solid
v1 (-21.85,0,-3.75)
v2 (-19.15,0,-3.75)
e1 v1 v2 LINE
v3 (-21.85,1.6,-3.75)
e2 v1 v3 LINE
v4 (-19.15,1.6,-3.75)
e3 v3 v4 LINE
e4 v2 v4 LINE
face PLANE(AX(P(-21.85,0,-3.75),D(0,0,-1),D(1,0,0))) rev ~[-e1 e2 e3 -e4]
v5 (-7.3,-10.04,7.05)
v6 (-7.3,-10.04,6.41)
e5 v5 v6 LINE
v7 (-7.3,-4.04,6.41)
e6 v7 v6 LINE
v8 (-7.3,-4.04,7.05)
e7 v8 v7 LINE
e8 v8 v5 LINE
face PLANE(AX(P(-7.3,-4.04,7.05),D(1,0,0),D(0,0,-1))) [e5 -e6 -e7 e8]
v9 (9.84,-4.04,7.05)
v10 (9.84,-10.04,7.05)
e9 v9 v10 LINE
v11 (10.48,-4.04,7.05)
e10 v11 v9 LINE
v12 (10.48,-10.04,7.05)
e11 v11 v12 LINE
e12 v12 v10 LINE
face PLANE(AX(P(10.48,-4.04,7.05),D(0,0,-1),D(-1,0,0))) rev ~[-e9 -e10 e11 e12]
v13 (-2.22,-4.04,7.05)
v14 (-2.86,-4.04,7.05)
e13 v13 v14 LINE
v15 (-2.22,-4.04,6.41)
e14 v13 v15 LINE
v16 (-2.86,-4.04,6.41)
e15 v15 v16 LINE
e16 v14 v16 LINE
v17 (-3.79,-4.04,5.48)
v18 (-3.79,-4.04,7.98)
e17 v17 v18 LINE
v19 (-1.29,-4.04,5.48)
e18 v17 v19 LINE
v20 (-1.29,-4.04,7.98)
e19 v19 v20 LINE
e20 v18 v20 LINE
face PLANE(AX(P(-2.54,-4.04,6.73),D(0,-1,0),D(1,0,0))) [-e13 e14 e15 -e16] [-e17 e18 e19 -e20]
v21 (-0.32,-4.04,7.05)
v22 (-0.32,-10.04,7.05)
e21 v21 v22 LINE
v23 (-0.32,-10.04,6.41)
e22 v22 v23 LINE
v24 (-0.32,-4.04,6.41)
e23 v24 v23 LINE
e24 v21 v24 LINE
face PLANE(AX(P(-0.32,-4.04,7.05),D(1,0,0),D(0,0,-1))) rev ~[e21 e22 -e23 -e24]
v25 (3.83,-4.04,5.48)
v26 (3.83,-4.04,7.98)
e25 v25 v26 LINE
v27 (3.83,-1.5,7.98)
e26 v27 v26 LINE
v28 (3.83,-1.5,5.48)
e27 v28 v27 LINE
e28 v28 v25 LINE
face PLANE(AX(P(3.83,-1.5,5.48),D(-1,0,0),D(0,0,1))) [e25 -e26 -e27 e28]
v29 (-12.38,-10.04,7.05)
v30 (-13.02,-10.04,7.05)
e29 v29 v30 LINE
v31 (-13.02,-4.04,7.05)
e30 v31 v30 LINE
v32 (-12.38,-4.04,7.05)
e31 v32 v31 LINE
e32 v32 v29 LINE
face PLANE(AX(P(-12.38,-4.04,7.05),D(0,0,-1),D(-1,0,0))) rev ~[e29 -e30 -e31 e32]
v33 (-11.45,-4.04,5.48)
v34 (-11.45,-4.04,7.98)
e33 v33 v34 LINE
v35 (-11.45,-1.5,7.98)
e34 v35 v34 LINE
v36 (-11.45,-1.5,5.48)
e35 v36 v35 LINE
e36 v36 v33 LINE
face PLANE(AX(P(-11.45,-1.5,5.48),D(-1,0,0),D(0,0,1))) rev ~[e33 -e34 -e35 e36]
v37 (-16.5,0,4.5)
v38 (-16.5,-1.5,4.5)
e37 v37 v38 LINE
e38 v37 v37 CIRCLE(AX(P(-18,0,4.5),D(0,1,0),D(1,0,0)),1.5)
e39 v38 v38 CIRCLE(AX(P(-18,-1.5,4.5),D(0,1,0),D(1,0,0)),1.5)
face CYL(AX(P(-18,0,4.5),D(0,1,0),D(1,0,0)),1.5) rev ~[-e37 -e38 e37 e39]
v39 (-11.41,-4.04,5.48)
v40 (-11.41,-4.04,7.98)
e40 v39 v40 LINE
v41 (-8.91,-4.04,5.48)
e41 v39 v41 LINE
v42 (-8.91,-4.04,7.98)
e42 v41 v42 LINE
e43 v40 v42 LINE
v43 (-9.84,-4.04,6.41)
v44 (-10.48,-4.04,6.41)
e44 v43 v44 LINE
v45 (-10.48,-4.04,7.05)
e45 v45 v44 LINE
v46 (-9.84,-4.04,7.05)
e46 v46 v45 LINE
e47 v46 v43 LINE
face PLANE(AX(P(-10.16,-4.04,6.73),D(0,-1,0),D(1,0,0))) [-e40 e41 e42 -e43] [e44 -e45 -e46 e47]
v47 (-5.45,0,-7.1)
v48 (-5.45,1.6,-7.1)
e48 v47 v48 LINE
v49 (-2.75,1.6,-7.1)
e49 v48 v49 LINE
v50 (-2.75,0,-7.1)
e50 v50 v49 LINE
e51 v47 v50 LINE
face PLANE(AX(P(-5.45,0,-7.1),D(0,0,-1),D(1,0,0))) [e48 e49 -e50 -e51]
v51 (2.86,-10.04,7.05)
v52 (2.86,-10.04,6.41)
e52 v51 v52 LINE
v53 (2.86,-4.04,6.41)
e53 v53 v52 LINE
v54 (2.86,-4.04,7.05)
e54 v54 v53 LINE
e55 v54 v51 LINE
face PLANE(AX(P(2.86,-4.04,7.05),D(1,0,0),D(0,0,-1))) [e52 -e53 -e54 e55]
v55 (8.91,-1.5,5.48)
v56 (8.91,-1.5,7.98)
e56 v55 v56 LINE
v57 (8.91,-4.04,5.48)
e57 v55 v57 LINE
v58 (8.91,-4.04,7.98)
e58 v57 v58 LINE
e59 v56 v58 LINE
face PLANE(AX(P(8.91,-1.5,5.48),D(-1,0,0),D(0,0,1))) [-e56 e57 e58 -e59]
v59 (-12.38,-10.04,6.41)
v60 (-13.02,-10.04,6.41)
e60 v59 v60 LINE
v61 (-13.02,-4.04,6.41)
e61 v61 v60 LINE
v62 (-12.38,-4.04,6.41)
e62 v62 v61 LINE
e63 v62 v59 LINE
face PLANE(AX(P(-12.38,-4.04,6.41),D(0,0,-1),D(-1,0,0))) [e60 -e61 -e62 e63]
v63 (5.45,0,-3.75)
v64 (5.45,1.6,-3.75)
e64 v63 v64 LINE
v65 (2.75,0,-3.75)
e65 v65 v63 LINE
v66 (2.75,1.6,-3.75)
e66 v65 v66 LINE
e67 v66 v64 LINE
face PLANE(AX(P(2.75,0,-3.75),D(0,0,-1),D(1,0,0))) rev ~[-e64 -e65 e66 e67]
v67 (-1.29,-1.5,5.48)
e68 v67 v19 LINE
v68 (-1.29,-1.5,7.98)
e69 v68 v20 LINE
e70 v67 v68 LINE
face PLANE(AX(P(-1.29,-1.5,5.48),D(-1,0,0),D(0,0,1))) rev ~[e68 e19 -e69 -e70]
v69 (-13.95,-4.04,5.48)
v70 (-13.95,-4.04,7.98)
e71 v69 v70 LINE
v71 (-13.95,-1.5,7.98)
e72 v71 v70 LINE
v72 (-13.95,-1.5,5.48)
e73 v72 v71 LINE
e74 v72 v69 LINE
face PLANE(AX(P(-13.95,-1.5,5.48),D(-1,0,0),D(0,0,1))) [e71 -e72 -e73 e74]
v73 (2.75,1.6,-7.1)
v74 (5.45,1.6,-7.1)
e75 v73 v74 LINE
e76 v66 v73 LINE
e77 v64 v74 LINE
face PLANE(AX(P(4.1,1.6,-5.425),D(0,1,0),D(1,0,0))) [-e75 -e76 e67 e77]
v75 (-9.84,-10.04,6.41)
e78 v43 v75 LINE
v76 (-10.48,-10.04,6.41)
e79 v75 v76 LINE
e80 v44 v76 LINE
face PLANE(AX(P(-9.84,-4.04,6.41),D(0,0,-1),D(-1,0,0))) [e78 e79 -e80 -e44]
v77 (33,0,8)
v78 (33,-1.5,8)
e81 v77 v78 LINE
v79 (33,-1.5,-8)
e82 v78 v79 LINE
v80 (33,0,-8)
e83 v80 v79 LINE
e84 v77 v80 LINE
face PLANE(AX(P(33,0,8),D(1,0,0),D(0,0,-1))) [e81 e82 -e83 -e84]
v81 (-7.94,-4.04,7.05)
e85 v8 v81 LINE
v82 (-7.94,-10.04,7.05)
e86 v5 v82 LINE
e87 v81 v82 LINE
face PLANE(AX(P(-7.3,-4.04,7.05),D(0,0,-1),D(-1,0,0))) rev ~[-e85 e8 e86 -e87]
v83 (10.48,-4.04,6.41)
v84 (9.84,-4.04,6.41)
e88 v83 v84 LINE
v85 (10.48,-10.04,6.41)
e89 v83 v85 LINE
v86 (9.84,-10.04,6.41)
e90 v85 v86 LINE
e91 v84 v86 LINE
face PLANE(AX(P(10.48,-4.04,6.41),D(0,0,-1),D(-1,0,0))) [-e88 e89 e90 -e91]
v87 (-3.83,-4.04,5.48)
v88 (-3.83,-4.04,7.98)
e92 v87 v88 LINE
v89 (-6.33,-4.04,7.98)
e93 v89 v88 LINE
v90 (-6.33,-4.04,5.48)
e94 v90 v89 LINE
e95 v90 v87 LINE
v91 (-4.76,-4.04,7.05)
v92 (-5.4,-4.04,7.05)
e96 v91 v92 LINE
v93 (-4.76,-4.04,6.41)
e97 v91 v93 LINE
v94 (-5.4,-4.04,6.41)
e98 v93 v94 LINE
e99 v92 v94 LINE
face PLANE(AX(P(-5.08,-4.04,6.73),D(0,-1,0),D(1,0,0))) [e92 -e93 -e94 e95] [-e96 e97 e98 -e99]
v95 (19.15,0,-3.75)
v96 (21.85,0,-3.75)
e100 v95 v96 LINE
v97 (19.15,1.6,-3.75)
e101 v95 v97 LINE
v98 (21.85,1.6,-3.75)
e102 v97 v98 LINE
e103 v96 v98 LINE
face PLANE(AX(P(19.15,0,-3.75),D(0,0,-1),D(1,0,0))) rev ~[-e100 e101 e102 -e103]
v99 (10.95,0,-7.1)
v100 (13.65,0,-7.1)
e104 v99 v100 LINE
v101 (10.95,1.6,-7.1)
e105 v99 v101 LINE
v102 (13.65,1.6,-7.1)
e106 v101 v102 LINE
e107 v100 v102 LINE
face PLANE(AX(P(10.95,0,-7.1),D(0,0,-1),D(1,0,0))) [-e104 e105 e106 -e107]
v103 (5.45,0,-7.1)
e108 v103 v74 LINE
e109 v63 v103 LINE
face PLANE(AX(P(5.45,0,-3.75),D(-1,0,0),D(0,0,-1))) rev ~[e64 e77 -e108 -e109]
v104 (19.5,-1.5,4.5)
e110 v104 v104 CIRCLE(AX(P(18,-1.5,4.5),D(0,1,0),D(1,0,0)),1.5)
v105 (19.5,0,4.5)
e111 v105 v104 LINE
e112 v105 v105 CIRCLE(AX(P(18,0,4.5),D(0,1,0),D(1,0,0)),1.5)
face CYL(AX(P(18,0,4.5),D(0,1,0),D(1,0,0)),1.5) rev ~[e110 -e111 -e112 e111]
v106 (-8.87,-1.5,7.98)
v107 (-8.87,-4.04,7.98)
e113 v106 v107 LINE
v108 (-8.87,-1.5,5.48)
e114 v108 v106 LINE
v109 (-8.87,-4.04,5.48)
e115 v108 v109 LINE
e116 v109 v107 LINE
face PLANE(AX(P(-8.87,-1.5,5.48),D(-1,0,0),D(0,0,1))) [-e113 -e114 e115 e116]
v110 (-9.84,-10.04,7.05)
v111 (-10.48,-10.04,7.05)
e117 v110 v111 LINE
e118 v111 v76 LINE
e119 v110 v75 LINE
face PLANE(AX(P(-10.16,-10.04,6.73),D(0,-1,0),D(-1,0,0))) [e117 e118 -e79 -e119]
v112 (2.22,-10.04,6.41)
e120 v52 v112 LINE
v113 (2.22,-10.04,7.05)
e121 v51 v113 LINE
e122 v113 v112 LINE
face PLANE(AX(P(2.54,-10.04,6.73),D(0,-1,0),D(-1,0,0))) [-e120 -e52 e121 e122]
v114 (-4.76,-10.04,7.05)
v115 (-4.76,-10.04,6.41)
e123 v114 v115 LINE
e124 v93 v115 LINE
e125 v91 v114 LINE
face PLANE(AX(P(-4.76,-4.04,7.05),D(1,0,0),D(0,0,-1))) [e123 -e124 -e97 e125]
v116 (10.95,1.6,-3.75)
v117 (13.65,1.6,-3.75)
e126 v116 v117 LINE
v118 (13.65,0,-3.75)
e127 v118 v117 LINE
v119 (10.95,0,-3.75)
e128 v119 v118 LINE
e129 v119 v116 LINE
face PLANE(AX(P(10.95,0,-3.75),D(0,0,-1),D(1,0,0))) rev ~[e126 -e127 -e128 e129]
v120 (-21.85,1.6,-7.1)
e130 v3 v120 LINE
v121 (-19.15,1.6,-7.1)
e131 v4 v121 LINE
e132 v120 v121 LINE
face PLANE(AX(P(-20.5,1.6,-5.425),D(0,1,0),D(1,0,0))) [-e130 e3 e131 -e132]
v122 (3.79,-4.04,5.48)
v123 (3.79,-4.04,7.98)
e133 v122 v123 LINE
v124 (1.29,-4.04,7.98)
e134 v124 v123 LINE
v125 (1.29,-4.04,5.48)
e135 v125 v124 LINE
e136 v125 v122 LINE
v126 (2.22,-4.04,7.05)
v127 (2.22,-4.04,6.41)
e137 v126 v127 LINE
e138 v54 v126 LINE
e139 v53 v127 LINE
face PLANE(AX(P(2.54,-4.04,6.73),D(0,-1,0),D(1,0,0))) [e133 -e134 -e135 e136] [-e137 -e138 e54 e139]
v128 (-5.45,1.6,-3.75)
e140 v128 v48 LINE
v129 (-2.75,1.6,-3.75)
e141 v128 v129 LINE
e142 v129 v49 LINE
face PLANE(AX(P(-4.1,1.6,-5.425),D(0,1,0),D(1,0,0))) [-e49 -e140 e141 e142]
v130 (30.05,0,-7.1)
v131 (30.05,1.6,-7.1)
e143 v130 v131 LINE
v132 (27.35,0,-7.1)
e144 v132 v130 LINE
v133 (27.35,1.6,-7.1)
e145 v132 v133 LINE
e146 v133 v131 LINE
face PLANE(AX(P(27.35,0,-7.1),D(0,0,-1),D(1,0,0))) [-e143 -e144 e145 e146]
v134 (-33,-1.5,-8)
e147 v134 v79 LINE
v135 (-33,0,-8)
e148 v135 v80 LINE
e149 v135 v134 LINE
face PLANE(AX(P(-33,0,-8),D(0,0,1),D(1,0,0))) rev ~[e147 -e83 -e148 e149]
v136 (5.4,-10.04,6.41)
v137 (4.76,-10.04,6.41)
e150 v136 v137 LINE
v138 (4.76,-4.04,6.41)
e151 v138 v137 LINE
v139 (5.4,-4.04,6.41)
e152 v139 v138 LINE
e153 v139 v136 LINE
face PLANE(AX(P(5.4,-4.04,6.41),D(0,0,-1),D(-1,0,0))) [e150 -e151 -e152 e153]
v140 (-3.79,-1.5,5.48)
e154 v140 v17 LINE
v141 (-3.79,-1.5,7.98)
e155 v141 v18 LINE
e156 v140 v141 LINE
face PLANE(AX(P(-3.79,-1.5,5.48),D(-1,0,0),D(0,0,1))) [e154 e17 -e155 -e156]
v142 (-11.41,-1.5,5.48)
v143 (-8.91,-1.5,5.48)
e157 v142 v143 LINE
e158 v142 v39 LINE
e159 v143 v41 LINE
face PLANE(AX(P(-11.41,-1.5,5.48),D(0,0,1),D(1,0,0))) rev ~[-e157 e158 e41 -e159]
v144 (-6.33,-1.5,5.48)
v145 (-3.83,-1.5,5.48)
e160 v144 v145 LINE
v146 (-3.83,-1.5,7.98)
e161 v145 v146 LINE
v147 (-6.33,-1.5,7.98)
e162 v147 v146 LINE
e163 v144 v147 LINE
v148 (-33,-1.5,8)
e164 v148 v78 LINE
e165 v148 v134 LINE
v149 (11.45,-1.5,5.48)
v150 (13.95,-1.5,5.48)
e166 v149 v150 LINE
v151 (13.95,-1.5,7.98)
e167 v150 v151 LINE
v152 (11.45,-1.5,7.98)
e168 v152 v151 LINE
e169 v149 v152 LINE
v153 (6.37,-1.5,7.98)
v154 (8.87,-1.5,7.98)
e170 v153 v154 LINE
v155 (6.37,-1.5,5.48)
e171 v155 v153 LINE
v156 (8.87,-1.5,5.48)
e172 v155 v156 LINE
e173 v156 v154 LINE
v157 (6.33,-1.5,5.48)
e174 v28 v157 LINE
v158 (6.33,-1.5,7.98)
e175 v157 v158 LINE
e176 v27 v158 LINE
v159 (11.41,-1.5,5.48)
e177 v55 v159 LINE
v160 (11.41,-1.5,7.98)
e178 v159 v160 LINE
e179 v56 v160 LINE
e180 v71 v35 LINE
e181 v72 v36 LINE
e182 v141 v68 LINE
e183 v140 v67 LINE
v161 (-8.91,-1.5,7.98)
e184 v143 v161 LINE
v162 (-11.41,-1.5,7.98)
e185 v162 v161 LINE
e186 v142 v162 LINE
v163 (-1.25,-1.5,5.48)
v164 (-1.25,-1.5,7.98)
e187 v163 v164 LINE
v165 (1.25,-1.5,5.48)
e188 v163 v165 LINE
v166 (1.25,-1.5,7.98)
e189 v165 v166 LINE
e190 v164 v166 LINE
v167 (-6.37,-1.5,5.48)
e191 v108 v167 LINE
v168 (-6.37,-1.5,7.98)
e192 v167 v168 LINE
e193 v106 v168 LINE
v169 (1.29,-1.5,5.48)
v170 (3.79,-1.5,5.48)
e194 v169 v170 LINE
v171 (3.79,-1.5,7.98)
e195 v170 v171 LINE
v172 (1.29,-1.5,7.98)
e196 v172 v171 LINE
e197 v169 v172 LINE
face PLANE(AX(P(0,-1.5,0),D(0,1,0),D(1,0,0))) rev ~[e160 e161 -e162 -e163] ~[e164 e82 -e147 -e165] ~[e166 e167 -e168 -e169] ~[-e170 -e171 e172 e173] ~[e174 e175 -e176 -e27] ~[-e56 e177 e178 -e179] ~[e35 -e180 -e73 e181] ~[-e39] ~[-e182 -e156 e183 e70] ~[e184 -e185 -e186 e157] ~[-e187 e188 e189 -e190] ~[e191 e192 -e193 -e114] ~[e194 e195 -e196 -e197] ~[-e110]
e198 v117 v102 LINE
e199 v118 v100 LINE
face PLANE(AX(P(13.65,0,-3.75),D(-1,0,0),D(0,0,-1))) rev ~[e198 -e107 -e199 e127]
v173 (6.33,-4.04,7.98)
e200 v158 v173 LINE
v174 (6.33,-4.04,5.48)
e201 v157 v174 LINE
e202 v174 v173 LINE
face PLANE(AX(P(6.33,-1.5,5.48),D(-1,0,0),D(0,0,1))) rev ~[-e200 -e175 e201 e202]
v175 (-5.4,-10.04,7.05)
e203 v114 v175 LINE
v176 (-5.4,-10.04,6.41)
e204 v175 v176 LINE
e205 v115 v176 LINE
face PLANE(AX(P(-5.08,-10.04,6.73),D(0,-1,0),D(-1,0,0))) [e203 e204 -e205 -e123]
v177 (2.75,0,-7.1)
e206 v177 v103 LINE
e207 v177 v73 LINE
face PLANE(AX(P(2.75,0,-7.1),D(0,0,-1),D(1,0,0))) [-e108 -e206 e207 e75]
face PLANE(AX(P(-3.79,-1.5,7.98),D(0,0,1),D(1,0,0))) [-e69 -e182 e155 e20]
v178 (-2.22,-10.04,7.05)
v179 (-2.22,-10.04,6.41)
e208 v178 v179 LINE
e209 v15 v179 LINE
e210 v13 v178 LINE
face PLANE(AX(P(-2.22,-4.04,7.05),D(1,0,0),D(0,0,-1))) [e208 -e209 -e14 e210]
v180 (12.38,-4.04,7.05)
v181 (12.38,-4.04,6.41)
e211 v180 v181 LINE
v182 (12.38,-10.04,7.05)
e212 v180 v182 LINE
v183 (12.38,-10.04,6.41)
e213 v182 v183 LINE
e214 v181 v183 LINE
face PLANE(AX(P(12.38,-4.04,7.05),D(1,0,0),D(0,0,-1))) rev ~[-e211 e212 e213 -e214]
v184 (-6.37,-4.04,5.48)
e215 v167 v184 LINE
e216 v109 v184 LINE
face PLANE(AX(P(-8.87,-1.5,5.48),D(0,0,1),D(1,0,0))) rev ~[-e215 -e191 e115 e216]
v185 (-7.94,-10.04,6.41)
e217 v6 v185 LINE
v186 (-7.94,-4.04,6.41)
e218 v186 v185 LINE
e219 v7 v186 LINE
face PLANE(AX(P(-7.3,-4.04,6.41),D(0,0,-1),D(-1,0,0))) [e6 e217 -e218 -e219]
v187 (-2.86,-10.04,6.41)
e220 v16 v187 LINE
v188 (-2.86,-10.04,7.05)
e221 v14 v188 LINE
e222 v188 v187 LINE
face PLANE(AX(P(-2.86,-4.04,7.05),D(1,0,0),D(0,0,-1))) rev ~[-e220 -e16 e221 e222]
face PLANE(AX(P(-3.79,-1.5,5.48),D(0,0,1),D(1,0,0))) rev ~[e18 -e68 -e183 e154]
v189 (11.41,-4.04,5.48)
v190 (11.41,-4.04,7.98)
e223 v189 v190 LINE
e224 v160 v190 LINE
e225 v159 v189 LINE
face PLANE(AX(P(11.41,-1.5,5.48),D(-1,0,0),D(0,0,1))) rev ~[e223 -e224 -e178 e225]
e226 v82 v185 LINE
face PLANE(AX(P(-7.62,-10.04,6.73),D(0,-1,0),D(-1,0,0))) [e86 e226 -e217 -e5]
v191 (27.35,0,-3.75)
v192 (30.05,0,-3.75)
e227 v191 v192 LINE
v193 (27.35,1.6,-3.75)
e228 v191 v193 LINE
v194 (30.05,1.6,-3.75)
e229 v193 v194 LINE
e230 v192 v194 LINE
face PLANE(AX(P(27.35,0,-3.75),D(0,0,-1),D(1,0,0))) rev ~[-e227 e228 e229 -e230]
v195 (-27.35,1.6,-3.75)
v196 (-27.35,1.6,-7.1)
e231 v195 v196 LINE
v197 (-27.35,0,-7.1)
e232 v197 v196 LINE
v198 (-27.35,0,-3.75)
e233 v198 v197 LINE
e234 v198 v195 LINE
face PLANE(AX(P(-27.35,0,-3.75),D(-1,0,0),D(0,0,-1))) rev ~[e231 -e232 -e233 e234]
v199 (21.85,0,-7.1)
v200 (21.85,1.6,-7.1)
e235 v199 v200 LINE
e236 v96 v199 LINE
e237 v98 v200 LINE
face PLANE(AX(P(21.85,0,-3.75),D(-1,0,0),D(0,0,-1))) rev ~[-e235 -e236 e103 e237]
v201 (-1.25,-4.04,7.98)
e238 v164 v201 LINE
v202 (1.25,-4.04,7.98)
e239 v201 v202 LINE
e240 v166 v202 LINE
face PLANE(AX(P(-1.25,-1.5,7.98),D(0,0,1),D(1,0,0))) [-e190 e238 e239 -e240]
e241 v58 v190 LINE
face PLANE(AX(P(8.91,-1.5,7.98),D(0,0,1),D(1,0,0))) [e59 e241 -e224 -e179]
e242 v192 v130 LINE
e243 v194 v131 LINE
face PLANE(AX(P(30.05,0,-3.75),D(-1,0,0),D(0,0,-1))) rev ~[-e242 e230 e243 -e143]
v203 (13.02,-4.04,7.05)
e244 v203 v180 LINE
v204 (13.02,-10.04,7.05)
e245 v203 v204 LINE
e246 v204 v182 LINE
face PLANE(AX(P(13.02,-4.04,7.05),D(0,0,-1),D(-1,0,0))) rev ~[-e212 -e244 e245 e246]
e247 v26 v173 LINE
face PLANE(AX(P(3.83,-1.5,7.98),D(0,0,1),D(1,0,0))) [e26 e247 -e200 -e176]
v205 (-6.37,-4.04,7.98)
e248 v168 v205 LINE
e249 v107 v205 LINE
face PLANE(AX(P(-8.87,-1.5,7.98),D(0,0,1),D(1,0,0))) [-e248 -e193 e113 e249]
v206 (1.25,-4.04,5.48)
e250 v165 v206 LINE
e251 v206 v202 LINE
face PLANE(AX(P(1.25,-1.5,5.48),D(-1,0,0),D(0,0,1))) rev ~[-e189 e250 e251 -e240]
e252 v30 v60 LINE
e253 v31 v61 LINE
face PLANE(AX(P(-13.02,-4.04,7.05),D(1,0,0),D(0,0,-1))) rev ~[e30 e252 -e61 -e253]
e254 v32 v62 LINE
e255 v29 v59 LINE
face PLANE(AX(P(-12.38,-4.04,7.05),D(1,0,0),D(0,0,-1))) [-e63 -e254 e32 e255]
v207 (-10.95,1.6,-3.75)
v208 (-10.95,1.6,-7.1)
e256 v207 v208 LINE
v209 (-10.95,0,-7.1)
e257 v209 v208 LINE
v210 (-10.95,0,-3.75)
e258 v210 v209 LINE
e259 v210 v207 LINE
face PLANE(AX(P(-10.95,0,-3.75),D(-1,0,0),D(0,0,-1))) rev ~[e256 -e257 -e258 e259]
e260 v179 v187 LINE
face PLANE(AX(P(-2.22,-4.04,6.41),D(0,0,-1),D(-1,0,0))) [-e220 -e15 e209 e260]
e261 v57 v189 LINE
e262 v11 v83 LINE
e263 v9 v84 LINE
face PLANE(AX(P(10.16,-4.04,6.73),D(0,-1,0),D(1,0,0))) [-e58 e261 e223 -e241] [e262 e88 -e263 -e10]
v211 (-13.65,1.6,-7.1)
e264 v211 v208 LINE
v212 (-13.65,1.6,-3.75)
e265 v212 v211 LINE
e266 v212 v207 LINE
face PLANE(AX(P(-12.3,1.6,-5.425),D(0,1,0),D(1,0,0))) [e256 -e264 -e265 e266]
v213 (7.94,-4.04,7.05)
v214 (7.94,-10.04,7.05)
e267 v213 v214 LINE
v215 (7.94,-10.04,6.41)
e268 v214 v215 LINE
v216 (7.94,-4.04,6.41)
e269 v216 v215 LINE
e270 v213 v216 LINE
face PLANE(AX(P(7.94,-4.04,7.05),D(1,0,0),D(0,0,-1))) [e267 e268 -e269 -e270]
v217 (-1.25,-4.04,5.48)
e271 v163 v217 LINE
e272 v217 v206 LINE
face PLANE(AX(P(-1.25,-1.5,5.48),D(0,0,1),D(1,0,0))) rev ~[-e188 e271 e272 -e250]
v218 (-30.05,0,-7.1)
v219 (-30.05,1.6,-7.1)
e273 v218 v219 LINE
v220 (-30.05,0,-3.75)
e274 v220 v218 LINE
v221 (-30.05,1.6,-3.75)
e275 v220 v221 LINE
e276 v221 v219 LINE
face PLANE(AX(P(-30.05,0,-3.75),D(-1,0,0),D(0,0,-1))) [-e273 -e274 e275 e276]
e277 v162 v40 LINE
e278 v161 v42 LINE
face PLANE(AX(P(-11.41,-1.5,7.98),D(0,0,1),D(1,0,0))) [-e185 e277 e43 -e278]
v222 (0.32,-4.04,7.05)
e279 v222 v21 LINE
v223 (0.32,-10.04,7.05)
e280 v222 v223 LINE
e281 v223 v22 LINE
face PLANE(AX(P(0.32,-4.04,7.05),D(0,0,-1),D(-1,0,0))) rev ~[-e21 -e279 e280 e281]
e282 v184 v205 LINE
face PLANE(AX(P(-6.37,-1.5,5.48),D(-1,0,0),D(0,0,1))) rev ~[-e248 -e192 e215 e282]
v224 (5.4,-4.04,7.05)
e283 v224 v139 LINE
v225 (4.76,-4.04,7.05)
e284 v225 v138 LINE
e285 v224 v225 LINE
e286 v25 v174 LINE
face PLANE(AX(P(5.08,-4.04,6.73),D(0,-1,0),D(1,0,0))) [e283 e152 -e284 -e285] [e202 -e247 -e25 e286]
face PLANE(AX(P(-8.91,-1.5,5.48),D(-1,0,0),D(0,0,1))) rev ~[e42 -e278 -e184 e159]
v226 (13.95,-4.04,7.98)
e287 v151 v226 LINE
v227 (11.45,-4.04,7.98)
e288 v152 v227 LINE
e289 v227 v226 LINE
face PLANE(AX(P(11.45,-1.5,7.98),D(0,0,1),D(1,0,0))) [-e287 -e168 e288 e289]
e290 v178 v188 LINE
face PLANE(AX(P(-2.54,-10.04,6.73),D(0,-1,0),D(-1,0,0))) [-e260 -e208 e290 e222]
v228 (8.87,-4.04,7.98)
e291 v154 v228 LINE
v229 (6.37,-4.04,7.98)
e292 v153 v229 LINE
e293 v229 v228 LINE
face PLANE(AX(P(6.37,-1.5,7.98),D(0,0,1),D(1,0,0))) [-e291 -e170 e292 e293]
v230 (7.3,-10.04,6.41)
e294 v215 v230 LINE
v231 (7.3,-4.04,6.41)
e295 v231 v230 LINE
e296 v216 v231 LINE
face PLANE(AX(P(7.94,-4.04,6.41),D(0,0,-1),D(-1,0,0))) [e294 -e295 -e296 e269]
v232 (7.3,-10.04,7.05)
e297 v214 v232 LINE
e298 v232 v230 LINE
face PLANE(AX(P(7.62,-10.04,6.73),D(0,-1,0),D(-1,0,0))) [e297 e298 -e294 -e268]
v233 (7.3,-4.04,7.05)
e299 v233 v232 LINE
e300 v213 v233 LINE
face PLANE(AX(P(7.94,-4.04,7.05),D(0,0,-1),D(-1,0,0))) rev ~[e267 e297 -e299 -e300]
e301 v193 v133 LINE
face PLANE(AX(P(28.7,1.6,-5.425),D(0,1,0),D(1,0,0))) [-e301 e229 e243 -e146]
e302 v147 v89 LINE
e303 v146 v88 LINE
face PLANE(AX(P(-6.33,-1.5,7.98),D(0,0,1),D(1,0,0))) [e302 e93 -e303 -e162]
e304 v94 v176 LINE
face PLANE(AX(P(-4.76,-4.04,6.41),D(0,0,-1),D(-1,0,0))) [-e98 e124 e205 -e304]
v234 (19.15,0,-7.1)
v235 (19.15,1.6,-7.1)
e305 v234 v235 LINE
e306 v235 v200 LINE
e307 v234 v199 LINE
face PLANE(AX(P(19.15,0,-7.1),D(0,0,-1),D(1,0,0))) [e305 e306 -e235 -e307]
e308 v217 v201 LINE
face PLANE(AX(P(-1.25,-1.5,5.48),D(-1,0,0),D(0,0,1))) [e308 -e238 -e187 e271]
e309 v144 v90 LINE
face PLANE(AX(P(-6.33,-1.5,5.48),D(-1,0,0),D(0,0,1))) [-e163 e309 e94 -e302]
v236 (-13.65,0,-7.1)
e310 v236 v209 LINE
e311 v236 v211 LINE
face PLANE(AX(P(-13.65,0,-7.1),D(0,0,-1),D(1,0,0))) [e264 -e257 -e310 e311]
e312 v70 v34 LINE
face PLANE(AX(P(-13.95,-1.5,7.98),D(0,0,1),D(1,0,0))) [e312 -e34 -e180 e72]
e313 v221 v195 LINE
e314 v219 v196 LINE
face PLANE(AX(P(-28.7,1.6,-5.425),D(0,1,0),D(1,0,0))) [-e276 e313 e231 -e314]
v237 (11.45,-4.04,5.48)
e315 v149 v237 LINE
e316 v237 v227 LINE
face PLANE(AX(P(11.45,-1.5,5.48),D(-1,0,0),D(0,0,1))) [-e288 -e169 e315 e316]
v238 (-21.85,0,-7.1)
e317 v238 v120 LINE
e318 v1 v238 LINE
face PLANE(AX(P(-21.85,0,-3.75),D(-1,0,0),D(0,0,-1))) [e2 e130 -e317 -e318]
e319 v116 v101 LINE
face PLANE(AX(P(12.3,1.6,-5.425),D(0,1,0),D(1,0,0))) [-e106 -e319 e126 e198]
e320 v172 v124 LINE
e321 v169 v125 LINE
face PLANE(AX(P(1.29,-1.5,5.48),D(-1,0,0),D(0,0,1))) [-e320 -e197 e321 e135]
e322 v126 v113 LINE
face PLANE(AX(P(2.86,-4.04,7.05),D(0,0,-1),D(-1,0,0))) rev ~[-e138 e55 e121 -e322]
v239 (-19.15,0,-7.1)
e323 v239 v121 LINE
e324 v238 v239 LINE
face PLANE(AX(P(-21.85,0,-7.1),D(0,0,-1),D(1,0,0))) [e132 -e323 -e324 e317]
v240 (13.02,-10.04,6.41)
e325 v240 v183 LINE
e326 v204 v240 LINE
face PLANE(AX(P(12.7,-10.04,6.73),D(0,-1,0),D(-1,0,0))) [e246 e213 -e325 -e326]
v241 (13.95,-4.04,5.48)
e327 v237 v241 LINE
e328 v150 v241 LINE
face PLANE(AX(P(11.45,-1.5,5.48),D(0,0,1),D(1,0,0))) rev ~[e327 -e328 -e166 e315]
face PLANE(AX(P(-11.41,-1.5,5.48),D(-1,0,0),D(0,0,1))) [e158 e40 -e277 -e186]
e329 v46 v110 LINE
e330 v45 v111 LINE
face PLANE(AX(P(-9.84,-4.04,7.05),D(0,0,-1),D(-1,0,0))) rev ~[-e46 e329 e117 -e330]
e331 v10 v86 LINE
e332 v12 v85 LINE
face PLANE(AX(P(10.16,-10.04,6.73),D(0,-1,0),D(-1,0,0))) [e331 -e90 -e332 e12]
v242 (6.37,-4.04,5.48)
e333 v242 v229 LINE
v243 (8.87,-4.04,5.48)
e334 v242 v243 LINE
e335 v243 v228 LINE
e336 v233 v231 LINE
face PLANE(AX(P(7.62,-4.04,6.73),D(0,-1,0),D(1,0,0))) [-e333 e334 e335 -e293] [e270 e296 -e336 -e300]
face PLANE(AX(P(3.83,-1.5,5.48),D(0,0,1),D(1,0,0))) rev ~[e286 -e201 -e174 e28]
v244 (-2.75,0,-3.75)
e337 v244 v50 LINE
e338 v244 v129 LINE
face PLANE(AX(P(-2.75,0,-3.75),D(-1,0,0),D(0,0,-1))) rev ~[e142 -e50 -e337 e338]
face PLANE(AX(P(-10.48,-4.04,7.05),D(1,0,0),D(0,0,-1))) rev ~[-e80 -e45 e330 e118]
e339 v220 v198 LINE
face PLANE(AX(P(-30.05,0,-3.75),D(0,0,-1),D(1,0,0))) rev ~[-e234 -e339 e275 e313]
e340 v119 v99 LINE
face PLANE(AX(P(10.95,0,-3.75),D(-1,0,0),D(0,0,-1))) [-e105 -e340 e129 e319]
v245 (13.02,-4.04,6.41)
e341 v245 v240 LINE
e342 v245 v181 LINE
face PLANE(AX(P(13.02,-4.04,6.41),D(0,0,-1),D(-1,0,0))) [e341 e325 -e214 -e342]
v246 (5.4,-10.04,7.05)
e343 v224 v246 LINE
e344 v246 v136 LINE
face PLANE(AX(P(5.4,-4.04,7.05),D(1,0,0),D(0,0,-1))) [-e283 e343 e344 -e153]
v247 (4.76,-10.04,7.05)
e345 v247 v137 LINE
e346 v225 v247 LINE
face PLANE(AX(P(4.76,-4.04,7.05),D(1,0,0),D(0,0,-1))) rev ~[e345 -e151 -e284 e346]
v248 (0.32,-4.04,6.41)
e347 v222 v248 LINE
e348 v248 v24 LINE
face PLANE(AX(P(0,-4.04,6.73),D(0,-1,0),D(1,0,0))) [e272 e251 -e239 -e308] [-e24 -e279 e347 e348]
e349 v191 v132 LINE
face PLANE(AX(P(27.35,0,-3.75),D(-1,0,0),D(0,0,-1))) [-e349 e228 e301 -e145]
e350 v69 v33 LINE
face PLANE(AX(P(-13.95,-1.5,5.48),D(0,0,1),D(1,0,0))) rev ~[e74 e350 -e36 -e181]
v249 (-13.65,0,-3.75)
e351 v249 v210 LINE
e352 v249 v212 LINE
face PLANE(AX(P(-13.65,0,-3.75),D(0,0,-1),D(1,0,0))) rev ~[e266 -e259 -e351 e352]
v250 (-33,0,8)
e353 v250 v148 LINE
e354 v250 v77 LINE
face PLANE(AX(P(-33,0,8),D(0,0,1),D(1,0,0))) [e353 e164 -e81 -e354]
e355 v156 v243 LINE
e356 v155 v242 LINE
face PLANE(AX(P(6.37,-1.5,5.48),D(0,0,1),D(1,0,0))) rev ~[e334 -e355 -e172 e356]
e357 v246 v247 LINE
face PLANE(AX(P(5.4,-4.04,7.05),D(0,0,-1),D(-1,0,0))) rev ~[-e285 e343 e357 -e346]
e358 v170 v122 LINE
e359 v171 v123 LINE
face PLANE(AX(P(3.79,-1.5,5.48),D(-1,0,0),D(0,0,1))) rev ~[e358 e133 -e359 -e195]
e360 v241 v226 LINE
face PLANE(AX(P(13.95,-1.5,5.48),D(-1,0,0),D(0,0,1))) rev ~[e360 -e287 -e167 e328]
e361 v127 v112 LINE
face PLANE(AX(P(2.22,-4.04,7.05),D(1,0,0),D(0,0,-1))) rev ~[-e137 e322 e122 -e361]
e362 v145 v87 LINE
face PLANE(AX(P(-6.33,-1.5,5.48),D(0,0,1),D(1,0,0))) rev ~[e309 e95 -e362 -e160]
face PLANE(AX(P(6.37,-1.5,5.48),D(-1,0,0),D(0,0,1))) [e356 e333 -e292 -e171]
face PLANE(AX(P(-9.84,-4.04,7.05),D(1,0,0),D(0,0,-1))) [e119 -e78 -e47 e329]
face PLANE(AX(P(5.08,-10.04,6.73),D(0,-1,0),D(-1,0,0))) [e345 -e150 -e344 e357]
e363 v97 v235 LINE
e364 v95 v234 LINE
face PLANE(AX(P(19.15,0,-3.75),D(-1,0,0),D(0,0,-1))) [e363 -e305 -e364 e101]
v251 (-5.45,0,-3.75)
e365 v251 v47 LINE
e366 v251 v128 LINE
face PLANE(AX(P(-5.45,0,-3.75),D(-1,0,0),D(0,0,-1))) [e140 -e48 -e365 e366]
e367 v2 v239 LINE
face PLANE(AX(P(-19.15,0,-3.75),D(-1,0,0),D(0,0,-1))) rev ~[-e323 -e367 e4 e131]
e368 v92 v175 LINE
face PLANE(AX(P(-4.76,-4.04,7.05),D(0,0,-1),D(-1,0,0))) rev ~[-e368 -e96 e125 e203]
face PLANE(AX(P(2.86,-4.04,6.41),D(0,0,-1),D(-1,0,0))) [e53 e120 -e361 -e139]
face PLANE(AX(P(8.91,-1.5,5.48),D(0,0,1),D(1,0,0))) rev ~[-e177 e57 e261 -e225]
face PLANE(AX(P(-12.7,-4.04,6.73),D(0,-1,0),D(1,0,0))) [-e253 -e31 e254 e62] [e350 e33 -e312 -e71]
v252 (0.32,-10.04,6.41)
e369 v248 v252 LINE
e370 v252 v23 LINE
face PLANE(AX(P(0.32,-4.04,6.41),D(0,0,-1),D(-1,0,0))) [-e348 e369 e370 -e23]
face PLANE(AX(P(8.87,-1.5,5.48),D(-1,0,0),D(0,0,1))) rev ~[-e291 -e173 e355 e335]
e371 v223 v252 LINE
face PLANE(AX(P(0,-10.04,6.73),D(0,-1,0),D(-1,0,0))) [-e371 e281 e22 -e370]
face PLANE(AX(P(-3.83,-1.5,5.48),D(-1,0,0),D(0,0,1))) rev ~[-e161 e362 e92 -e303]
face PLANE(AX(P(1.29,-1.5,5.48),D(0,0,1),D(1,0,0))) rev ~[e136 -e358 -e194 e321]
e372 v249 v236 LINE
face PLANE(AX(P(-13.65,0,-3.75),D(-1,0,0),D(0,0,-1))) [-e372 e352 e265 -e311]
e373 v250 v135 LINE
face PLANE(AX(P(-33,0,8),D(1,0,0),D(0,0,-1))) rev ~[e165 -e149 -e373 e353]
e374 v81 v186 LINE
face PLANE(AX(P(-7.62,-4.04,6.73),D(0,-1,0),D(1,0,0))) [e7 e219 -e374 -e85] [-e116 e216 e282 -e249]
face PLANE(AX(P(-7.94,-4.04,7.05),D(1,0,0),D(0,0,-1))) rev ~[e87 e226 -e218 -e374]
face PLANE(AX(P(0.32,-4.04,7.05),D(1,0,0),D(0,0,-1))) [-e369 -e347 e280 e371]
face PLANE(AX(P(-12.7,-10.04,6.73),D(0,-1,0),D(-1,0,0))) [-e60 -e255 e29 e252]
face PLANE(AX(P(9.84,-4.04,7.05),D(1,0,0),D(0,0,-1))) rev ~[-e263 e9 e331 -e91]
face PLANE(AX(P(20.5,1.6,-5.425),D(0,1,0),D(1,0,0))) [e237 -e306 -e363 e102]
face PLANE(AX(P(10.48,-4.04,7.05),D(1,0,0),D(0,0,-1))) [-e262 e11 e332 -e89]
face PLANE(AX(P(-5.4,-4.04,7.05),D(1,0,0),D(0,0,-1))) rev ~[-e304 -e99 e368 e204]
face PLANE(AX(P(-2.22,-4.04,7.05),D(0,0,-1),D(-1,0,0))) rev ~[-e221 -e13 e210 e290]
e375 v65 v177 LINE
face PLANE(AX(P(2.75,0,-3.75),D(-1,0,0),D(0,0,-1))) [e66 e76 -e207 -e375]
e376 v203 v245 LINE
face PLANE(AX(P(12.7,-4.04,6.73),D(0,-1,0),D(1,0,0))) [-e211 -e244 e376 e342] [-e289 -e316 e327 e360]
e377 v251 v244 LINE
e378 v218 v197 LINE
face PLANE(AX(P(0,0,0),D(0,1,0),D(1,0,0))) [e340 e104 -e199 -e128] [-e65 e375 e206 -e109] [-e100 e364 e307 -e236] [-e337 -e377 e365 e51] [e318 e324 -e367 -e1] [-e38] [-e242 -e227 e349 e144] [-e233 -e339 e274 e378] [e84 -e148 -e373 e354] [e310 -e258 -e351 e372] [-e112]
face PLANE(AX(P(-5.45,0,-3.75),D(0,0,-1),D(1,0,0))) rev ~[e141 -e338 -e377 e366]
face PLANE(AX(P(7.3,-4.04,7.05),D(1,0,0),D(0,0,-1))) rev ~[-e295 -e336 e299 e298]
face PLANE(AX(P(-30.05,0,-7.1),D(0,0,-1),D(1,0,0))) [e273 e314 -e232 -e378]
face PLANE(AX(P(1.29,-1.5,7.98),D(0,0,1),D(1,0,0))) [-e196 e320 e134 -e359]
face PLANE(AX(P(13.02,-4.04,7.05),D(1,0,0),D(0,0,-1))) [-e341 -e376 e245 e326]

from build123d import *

# Parameters (mm, degrees)
SKETCH1_W           = 66
SKETCH1_H           = 16
SKETCH1_R           = 1.5
BOSS_EXTRUDE1_DEPTH = 1.5
SKETCH2_W           = 2.5
SKETCH2_H           = 2.5
BOSS_EXTRUDE2_DEPTH = 2.54
SKETCH3_W           = 0.64
SKETCH3_H           = 0.64
BOSS_EXTRUDE3_DEPTH = 6
LPATTERN1_COUNT     = 6
LPATTERN1_PITCH     = 2.54
LPATTERN1_COL_COUNT = 6
LPATTERN1_COL_PITCH = 2.54
SKETCH4_W           = 2.7
SKETCH4_H           = 3.35
BOSS_EXTRUDE4_DEPTH = 1.6


with BuildPart() as part:
    # Sketch1 → Boss-Extrude1 (new body)
    with BuildSketch(Plane(origin=(0, 0, 0), x_dir=(1, 0, 0), z_dir=(0, 1, 0))):
        Rectangle(SKETCH1_W, SKETCH1_H)
        with Locations((-18, -4.5)):
            Circle(SKETCH1_R, mode=Mode.SUBTRACT)
        with Locations((18, -4.5)):
            Circle(SKETCH1_R, mode=Mode.SUBTRACT)
    extrude(amount=-BOSS_EXTRUDE1_DEPTH)

    # Sketch2 → Boss-Extrude2 (add)
    with BuildSketch(Plane.XZ.offset(1.5)):
        with Locations((0, 6.73)):
            Rectangle(SKETCH2_W, SKETCH2_H)
    boss_extrude2 = extrude(amount=BOSS_EXTRUDE2_DEPTH)

    # Sketch3 → Boss-Extrude3 (add)
    with BuildSketch(Plane(origin=(0, -4.04, 0), x_dir=(-1, 0, 0), z_dir=(0, -1, 0))):
        with Locations((0, -6.73)):
            Rectangle(SKETCH3_W, SKETCH3_H)
    boss_extrude3 = extrude(amount=BOSS_EXTRUDE3_DEPTH)

    # LPattern1: Boss-Extrude2, Boss-Extrude3 ×6
    with Locations(*[(-i * LPATTERN1_PITCH, 0, 0) for i in range(1, LPATTERN1_COUNT)]):
        add(boss_extrude2)
        add(boss_extrude3)

    # LPattern1 col: Boss-Extrude2, Boss-Extrude3 ×6
    with Locations(*[(i * LPATTERN1_COL_PITCH, 0, 0) for i in range(1, LPATTERN1_COL_COUNT)]):
        add(boss_extrude2)
        add(boss_extrude3)

    # Sketch4 → Boss-Extrude4 (add)
    with BuildSketch(Plane(origin=(0, 0, 0), x_dir=(1, 0, 0), z_dir=(0, 1, 0))):
        with Locations((-4.1, 5.425)):
            Rectangle(SKETCH4_W, SKETCH4_H)
        with Locations((4.1, 5.425)):
            Rectangle(SKETCH4_W, SKETCH4_H)
        with Locations((12.3, 5.425)):
            Rectangle(SKETCH4_W, SKETCH4_H)
        with Locations((20.5, 5.425)):
            Rectangle(SKETCH4_W, SKETCH4_H)
        with Locations((28.7, 5.425)):
            Rectangle(SKETCH4_W, SKETCH4_H)
        with Locations((-12.3, 5.425)):
            Rectangle(SKETCH4_W, SKETCH4_H)
        with Locations((-28.7, 5.425)):
            Rectangle(SKETCH4_W, SKETCH4_H)
        with Locations((-20.5, 5.425)):
            Rectangle(SKETCH4_W, SKETCH4_H)
    extrude(amount=BOSS_EXTRUDE4_DEPTH)


solid = part.part
